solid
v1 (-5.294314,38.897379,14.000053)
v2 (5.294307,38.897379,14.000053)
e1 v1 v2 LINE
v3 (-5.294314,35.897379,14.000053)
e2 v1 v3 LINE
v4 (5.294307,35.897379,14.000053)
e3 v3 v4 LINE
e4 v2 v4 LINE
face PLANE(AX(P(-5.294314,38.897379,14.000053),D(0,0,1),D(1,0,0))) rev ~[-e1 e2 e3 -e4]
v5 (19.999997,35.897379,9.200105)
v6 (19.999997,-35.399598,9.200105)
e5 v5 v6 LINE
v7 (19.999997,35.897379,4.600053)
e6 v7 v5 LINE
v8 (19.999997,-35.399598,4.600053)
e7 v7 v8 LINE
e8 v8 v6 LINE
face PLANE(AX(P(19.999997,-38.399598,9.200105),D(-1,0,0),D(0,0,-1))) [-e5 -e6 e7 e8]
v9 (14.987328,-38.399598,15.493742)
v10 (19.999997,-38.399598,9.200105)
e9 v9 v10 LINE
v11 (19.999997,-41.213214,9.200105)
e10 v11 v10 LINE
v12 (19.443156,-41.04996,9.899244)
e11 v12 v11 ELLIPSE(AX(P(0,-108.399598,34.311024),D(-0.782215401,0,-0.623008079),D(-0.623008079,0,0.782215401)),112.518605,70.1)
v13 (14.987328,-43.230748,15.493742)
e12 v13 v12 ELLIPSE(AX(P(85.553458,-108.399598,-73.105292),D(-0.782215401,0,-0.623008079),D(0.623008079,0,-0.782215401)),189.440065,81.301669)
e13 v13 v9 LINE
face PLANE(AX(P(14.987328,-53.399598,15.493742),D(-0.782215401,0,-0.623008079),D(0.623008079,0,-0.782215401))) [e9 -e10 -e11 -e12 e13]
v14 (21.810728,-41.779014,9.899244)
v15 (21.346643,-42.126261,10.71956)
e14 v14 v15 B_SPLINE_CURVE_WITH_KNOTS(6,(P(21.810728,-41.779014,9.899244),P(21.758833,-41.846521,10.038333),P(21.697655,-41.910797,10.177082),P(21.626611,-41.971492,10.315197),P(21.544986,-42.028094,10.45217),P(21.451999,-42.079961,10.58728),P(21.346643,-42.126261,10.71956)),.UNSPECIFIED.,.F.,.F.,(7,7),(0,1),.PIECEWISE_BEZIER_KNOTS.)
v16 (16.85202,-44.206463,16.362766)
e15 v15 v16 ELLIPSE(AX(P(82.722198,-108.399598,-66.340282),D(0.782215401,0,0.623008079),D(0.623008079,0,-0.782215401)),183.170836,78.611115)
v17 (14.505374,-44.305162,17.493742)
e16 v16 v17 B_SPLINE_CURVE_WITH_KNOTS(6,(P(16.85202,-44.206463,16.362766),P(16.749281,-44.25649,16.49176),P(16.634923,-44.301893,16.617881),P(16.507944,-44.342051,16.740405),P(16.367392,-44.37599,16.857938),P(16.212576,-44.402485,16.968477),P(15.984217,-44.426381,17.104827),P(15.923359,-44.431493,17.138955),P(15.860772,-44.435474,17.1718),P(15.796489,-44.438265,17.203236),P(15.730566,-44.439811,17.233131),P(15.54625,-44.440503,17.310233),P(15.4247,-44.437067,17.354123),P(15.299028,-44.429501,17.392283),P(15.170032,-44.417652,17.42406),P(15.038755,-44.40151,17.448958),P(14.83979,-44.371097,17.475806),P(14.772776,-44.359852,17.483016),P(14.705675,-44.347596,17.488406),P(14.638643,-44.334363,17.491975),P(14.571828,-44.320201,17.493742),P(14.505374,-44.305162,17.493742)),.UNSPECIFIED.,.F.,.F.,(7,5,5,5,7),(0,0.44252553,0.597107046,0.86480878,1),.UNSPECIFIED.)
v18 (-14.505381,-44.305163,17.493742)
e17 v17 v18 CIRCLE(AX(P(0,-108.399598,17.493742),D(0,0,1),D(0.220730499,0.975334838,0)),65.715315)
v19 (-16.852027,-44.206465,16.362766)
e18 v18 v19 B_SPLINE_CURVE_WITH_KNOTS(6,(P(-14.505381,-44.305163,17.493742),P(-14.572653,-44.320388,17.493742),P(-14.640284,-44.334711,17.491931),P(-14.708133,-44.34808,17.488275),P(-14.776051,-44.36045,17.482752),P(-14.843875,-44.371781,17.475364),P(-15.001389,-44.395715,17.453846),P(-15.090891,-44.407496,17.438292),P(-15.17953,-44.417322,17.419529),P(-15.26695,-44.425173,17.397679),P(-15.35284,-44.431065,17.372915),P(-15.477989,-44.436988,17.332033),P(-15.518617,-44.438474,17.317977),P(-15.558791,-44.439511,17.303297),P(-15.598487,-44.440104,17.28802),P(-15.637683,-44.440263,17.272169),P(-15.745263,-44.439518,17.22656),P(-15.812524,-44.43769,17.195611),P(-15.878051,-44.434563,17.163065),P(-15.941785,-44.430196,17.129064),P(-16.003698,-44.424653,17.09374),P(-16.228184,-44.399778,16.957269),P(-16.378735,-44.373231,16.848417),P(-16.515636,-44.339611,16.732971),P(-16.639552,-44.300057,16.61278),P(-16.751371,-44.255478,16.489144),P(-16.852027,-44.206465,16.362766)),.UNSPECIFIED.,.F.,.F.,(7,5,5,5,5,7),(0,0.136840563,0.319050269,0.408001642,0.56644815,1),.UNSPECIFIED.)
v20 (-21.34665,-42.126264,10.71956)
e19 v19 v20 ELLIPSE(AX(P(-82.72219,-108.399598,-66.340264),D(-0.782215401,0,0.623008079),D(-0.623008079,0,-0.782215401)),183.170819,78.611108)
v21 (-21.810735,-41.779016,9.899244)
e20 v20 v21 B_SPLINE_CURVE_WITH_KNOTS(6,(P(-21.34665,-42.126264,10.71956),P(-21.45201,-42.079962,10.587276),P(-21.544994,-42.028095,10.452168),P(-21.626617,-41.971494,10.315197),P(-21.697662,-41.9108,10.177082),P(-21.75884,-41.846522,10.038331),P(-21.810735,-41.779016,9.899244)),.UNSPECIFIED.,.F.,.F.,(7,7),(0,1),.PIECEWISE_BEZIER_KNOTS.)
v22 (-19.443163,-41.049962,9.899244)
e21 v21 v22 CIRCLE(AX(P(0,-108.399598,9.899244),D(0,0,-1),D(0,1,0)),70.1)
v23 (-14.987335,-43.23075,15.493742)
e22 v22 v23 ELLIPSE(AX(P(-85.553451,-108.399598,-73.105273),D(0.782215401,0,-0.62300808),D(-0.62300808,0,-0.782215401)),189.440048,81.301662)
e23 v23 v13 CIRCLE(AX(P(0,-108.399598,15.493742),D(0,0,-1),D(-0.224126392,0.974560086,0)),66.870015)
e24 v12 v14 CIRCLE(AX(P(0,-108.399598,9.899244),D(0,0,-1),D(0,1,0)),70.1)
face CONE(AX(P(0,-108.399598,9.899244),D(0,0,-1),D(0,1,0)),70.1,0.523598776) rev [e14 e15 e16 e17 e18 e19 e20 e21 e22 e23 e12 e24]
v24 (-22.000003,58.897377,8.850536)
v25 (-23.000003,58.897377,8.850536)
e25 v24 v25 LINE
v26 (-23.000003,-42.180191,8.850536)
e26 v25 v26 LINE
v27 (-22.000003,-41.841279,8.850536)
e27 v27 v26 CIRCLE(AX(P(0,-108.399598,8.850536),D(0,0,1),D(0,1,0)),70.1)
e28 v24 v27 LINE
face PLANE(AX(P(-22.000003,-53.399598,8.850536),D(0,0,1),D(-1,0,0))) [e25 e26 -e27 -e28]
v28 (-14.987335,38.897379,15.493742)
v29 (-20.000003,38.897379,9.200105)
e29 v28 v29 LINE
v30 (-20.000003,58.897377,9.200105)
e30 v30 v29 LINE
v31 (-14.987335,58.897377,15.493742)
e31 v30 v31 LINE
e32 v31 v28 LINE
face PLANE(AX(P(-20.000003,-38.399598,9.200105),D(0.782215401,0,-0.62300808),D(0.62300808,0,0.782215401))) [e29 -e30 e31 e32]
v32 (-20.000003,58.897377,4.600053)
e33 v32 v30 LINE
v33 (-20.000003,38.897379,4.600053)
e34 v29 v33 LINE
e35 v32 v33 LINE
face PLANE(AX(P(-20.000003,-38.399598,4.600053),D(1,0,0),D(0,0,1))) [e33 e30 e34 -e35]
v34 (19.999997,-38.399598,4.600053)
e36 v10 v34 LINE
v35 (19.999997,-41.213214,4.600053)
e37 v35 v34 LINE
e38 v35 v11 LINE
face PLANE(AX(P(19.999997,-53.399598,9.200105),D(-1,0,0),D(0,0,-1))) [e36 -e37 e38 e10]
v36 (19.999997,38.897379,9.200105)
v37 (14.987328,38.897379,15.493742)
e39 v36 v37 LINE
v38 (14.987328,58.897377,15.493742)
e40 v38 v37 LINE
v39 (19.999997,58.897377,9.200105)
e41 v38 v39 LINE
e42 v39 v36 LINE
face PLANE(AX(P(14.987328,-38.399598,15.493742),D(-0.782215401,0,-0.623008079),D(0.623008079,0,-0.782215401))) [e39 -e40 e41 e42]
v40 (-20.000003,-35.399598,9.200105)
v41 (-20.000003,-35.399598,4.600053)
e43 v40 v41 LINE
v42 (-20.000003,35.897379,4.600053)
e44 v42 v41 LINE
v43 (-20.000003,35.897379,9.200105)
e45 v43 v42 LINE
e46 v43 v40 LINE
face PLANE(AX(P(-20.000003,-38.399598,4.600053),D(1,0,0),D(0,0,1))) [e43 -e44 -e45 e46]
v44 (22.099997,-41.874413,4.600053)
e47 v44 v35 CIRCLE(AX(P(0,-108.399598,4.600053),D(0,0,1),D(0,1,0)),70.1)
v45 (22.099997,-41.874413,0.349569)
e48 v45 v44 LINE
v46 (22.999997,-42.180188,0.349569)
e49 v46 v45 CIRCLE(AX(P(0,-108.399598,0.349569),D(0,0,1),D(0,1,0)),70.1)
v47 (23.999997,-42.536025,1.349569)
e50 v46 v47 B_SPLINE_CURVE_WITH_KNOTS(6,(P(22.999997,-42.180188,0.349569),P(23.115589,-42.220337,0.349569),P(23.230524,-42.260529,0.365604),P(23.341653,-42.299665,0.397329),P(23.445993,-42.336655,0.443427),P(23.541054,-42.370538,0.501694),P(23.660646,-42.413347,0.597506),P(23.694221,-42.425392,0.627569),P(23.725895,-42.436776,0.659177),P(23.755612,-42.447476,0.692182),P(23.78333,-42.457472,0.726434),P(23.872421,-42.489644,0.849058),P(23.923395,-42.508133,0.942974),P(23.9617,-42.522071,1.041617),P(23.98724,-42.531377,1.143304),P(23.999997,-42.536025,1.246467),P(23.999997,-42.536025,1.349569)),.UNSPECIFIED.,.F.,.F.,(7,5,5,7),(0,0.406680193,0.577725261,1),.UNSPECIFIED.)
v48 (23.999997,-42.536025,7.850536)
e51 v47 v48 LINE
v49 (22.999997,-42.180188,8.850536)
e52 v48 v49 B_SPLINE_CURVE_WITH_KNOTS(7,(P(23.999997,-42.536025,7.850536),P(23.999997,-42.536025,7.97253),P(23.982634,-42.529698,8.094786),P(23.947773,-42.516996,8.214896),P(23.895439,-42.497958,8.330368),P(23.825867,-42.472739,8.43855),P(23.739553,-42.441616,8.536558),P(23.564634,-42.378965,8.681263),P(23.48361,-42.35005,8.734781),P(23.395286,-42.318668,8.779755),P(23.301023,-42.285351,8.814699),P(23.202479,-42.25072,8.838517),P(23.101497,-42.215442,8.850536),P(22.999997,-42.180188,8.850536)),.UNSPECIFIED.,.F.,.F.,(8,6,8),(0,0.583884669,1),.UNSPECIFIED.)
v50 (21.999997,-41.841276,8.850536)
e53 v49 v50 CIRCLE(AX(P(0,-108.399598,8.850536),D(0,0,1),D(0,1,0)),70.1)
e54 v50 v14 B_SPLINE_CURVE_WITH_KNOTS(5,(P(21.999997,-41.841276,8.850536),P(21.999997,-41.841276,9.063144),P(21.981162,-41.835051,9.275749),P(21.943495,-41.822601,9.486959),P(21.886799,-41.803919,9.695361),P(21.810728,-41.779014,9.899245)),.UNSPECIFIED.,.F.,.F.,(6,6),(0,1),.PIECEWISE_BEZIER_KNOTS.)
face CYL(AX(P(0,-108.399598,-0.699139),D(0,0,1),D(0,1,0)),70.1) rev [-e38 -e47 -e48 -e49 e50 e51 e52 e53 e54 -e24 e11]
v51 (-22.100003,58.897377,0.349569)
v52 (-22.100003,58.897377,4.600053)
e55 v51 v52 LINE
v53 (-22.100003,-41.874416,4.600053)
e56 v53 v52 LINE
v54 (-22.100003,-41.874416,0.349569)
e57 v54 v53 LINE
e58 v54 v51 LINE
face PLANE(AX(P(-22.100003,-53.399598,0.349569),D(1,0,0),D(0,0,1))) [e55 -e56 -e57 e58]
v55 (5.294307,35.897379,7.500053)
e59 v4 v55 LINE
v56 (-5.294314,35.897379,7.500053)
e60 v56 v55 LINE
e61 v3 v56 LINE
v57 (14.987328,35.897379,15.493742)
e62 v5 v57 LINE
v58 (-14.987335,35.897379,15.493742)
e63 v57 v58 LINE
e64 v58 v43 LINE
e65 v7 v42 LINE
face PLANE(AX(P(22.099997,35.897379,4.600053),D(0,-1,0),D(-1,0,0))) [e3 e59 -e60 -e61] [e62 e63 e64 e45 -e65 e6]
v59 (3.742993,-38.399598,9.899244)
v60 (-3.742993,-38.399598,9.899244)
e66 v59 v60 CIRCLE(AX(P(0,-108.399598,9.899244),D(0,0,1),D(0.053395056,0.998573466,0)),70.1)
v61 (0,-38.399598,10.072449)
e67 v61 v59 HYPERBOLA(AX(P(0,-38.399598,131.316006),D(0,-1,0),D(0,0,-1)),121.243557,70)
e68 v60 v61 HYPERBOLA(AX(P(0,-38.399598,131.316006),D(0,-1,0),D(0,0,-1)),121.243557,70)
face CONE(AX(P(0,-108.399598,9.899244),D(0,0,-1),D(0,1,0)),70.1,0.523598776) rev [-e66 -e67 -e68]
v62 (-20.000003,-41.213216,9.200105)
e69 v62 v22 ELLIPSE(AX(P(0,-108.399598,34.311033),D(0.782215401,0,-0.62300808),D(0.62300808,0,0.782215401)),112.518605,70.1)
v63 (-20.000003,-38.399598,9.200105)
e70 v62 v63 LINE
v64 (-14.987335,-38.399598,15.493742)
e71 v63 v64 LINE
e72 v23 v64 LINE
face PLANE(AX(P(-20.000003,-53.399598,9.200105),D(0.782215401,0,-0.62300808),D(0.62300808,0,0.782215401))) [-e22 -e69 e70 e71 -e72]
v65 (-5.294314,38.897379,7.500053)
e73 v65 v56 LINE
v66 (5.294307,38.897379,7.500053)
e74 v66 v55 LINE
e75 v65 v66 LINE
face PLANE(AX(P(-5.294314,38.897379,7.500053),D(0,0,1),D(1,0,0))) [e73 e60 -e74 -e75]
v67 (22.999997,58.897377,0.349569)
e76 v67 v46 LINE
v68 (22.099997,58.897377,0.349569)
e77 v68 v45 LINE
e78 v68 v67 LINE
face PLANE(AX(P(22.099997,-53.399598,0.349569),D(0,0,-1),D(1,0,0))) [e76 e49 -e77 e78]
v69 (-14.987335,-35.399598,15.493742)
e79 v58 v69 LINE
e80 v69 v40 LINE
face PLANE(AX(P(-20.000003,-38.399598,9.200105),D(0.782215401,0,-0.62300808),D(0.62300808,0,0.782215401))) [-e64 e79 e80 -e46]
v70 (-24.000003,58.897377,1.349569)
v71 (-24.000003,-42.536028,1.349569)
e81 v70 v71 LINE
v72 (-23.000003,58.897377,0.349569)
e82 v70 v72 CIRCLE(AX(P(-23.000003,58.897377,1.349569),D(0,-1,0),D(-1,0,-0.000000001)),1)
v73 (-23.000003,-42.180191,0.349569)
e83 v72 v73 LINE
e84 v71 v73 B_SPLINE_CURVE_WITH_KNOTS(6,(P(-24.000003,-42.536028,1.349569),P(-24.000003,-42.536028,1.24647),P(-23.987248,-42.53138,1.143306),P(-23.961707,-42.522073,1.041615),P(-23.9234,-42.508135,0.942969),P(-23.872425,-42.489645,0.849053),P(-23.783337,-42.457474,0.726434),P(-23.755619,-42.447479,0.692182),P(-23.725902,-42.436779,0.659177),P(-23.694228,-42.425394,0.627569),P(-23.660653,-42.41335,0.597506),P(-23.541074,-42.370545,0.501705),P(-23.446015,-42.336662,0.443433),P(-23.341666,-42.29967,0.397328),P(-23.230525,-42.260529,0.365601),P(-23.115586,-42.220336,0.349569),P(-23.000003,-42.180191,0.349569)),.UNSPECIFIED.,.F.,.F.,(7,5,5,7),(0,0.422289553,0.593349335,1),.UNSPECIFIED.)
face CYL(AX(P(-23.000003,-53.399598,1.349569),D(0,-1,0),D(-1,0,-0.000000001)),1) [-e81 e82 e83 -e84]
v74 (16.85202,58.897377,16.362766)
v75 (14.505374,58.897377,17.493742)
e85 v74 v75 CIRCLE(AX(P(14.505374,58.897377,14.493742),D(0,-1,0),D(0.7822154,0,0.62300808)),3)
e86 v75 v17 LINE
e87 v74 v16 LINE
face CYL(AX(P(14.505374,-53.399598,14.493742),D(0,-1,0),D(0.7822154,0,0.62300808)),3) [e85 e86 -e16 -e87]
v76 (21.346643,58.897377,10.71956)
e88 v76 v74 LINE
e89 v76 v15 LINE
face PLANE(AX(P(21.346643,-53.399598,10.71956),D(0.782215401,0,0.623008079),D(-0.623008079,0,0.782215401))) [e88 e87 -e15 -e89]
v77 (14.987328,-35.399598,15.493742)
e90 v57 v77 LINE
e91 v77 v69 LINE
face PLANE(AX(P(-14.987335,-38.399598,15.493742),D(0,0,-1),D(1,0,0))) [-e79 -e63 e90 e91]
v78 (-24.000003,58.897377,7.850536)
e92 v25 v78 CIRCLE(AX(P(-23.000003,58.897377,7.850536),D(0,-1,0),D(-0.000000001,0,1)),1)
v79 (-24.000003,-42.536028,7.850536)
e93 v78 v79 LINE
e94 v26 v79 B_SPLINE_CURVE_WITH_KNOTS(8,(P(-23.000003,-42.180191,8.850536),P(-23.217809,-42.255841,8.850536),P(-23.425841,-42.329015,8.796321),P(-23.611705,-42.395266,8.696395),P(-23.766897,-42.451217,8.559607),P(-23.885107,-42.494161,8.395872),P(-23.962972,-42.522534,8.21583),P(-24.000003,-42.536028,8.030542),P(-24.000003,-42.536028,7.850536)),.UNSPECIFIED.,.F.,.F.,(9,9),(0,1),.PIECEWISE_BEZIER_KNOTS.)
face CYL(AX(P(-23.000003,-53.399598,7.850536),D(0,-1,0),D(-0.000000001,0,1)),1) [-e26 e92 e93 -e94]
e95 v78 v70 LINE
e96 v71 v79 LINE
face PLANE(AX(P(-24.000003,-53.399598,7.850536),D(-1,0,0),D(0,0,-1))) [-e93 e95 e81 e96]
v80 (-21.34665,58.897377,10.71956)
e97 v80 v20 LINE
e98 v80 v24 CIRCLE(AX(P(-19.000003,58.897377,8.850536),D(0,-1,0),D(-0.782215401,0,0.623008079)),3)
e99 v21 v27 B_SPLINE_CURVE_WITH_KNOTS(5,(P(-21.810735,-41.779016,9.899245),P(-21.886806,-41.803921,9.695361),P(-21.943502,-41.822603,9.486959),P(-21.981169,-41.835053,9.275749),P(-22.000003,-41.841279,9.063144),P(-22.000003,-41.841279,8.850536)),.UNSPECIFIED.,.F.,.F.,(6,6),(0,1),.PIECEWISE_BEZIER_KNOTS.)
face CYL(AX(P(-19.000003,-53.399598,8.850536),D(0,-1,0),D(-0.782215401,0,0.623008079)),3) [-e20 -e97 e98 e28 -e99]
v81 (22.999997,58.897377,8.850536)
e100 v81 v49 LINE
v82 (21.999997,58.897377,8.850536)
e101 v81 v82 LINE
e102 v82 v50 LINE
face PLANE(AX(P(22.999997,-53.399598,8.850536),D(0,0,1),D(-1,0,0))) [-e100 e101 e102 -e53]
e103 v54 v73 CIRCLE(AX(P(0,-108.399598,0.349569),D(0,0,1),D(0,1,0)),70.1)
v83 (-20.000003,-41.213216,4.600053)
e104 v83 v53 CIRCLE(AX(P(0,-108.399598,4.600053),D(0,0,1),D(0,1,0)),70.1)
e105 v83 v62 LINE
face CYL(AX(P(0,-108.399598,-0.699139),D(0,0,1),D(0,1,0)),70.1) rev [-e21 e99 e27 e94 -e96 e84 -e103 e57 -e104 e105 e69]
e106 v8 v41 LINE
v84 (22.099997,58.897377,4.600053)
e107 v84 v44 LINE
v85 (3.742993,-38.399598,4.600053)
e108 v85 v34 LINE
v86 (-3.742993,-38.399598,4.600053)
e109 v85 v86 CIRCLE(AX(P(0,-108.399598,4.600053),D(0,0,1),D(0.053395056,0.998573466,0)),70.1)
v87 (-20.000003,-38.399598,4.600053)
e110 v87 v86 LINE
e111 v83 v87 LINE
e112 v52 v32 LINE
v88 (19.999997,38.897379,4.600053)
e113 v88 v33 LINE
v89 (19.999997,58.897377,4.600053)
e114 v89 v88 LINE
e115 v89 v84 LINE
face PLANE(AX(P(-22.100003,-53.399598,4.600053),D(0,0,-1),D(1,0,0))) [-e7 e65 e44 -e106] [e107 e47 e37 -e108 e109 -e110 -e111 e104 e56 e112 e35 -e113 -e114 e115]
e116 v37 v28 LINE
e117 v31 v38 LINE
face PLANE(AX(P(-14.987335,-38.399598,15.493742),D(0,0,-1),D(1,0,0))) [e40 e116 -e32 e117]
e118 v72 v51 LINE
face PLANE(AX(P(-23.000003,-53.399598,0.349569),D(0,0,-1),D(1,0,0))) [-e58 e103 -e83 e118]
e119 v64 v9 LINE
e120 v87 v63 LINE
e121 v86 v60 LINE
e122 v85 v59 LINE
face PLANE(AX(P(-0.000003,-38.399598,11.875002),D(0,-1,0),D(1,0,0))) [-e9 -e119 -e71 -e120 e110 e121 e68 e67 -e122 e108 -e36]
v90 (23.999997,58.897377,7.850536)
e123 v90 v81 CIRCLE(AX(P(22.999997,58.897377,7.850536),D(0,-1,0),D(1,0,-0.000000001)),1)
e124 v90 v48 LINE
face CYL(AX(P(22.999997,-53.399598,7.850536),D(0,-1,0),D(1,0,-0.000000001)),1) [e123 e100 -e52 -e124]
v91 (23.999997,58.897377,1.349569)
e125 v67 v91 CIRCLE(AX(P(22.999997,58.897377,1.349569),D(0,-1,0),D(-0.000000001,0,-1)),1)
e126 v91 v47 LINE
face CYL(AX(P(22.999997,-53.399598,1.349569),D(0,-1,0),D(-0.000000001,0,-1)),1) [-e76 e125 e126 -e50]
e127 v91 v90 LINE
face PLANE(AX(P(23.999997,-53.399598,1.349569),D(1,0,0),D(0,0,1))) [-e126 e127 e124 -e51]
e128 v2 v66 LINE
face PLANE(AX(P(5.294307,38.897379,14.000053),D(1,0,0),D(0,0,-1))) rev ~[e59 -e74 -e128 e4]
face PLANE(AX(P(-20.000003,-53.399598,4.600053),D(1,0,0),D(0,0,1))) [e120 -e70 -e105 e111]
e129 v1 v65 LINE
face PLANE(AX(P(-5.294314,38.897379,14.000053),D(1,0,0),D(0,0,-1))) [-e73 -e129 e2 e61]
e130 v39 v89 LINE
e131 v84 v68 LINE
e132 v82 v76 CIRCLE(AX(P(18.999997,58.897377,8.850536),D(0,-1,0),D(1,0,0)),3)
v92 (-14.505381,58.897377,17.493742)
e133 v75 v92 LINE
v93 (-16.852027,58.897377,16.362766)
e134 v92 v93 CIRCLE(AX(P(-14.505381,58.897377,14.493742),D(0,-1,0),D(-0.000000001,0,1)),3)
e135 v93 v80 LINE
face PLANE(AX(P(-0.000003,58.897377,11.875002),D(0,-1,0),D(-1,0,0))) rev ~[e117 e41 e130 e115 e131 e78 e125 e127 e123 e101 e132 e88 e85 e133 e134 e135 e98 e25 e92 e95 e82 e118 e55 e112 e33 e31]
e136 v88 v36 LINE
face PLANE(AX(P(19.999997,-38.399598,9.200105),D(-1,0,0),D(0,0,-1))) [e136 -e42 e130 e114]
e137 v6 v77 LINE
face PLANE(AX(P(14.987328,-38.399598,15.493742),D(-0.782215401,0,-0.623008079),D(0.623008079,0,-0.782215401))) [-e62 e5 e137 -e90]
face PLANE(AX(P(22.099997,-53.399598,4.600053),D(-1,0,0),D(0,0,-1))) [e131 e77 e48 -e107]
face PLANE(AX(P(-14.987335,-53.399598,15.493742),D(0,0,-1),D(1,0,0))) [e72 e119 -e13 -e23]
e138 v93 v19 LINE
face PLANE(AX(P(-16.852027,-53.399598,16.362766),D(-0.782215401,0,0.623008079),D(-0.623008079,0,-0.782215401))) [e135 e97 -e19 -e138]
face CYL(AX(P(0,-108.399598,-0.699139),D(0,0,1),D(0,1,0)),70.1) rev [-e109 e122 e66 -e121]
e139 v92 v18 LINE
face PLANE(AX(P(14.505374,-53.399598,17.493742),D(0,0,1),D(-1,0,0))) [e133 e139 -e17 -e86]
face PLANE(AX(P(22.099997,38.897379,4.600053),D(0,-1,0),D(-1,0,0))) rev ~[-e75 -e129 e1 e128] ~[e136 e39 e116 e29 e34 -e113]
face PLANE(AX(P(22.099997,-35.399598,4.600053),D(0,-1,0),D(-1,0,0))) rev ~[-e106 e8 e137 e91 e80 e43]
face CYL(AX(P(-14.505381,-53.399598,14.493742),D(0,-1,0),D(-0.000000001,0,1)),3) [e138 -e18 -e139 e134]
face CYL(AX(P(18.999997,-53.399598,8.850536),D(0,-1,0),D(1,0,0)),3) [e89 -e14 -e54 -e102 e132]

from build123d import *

# Parameters (mm, degrees)
EXTRUDE_1_DEPTH     = 58.89737674
EXTRUDE_START       = 38.399597665
EXTRUDE_2_DEPTH     = 38.399597665
EXTRUDE_3_REACH     = 66.893
SKETCH_3_W          = 44.2
SKETCH_3_H          = 3
EXTRUDE_4_REACH     = 66.893
SKETCH_4_W          = 44.2
SKETCH_4_H          = 3
CUT_EXTRUDE_START   = -77.29697691
CUT_EXTRUDE_1_DEPTH = 77.29697691
SKETCH_6_W          = 10.588620777
SKETCH_6_H          = 6.5
CUT_EXTRUDE_2_DEPTH = 3
EXTRUDE_START_2     = 15
EXTRUDE_5_DEPTH     = 15


with BuildPart() as part:
    # 草图1 → 凸台-拉伸1 (new body)
    with BuildSketch(Plane(origin=(0, 0, 0), x_dir=(1, 0, 0), z_dir=(0, 1, 0))):
        with BuildLine():
            Line((21.346642729, -10.719560241), (16.852020459, -16.362765964))
            ThreePointArc((16.852020459, -16.362765964), (15.807857901, -17.196247295), (14.505374257, -17.493741725))
            Line((14.505374257, -17.493741725), (-14.505381202, -17.493741725))
            ThreePointArc((-14.505381202, -17.493741725), (-15.807864846, -17.196247295), (-16.852027404, -16.362765964))
            Line((-16.852027404, -16.362765964), (-21.346649674, -10.719560241))
            ThreePointArc((-21.346649674, -10.719560241), (-21.831958504, -9.840501001), (-22.000003473, -8.850536003))
            Line((-22.000003473, -8.850536003), (-23.000003473, -8.850536003))
            ThreePointArc((-23.000003473, -8.850536003), (-23.707110254, -8.557642784), (-24.000003473, -7.850536003))
            Line((-24.000003473, -7.850536003), (-24.000003473, -1.349569462))
            ThreePointArc((-24.000003473, -1.349569462), (-23.707110254, -0.642462681), (-23.000003473, -0.349569462))
            Line((-23.000003473, -0.349569462), (-22.100003473, -0.349569462))
            Line((-22.100003473, -0.349569462), (-22.100003473, -4.600052733))
            Line((-22.100003473, -4.600052733), (-22.000003473, -4.600052733))
            Line((-22.000003473, -4.600052733), (-20.000003473, -4.600052733))
            Line((-20.000003473, -4.600052733), (-20.000003473, -9.200105465))
            Line((-20.000003473, -9.200105465), (-14.987335304, -15.493741725))
            Line((-14.987335304, -15.493741725), (14.987328359, -15.493741725))
            Line((14.987328359, -15.493741725), (19.999996527, -9.200105465))
            Line((19.999996527, -9.200105465), (19.999996527, -4.600052733))
            Line((19.999996527, -4.600052733), (21.999996527, -4.600052733))
            Line((21.999996527, -4.600052733), (22.099996527, -4.600052733))
            Line((22.099996527, -4.600052733), (22.099996527, -0.349569462))
            Line((22.099996527, -0.349569462), (22.999996527, -0.349569462))
            ThreePointArc((22.999996527, -0.349569462), (23.707103309, -0.642462681), (23.999996527, -1.349569462))
            Line((23.999996527, -1.349569462), (23.999996527, -7.850536003))
            ThreePointArc((23.999996527, -7.850536003), (23.707103309, -8.557642784), (22.999996527, -8.850536003))
            Line((22.999996527, -8.850536003), (21.999996527, -8.850536003))
            ThreePointArc((21.999996527, -8.850536003), (21.831951559, -9.840501001), (21.346642729, -10.719560241))
        make_face()
    extrude(amount=EXTRUDE_1_DEPTH)

    # 草图2 → 凸台-拉伸2 (add)
    with BuildSketch(Plane.XZ.offset(EXTRUDE_START)):
        with BuildLine():
            Line((22.999996527, 8.850536003), (21.999996527, 8.850536003))
            ThreePointArc((21.999996527, 8.850536003), (21.831951559, 9.840501001), (21.346642729, 10.719560241))
            Line((21.346642729, 10.719560241), (16.852020459, 16.362765964))
            ThreePointArc((16.852020459, 16.362765964), (15.807857901, 17.196247295), (14.505374257, 17.493741725))
            Line((14.505374257, 17.493741725), (-14.505381202, 17.493741725))
            ThreePointArc((-14.505381202, 17.493741725), (-15.807864846, 17.196247295), (-16.852027404, 16.362765964))
            Line((-16.852027404, 16.362765964), (-21.346649674, 10.719560241))
            ThreePointArc((-21.346649674, 10.719560241), (-21.831958504, 9.840501001), (-22.000003473, 8.850536003))
            Line((-22.000003473, 8.850536003), (-23.000003473, 8.850536003))
            ThreePointArc((-23.000003473, 8.850536003), (-23.707110254, 8.557642784), (-24.000003473, 7.850536003))
            Line((-24.000003473, 7.850536003), (-24.000003473, 1.349569462))
            ThreePointArc((-24.000003473, 1.349569462), (-23.707110254, 0.642462681), (-23.000003473, 0.349569462))
            Line((-23.000003473, 0.349569462), (-22.100003473, 0.349569462))
            Line((-22.100003473, 0.349569462), (-22.100003473, 4.600052733))
            Line((-22.100003473, 4.600052733), (-20.000003473, 4.600052733))
            Line((-20.000003473, 4.600052733), (-20.000003473, 9.200105465))
            Line((-20.000003473, 9.200105465), (-14.987335304, 15.493741725))
            Line((-14.987335304, 15.493741725), (14.987328359, 15.493741725))
            Line((14.987328359, 15.493741725), (19.999996527, 9.200105465))
            Line((19.999996527, 9.200105465), (19.999996527, 4.600052733))
            Line((19.999996527, 4.600052733), (22.099996527, 4.600052733))
            Line((22.099996527, 4.600052733), (22.099996527, 0.349569462))
            Line((22.099996527, 0.349569462), (22.999996527, 0.349569462))
            ThreePointArc((22.999996527, 0.349569462), (23.707103309, 0.642462681), (23.999996527, 1.349569462))
            Line((23.999996527, 1.349569462), (23.999996527, 7.850536003))
            ThreePointArc((23.999996527, 7.850536003), (23.707103309, 8.557642784), (22.999996527, 8.850536003))
        make_face()
    extrude(amount=-EXTRUDE_2_DEPTH)

    # 凸台-拉伸3: up to this face of the body (flat: up to its plane)
    extrude_3_end = Plane(part.part.faces().sort_by_distance((-3.473e-06, 10.248889538, 17.493741725))[0])
    # 草图3 → 凸台-拉伸3 (add, up to the picked face)
    with BuildSketch(Plane(origin=(0, 0, 4.600052733), x_dir=(-1, 0, 0), z_dir=(0, 0, -1)), mode=Mode.PRIVATE) as extrude_3_sk1:
        with Locations((3.473e-06, -36.899597665)):
            Rectangle(SKETCH_3_W, SKETCH_3_H)
    extrude_3_tool1 = split(extrude(extrude_3_sk1.sketch, amount=-EXTRUDE_3_REACH, mode=Mode.PRIVATE), bisect_by=extrude_3_end, keep=Keep.BOTH, mode=Mode.PRIVATE)
    add(extrude_3_tool1.solids().sort_by(Axis((-3e-06, -36.899598, 4.600053), (0, 0, 1)))[0])

    # 凸台-拉伸4: up to this face of the body (flat: up to its plane)
    extrude_4_end = Plane(part.part.faces().sort_by_distance((-3.473e-06, 9.499837909, 17.493741725))[0])
    # 草图4 → 凸台-拉伸4 (add, up to the picked face)
    with BuildSketch(Plane(origin=(0, 0, 4.600052733), x_dir=(-1, 0, 0), z_dir=(0, 0, -1)), mode=Mode.PRIVATE) as extrude_4_sk1:
        with Locations((3.473e-06, 37.397379245)):
            Rectangle(SKETCH_4_W, SKETCH_4_H)
    extrude_4_tool1 = split(extrude(extrude_4_sk1.sketch, amount=-EXTRUDE_4_REACH, mode=Mode.PRIVATE), bisect_by=extrude_4_end, keep=Keep.BOTH, mode=Mode.PRIVATE)
    add(extrude_4_tool1.solids().sort_by(Axis((-3e-06, 37.397379, 4.600053), (0, 0, 1)))[0])

    # 草图5 → 切除-拉伸1 (cut)
    with BuildSketch(Plane(origin=(0, 38.897379245, 0), x_dir=(1, 0, 0), z_dir=(0, 1, 0)).offset(CUT_EXTRUDE_START)):
        with BuildLine():
            Line((-22.100003473, -8.850536003), (-22.100003473, -17.493741725))
            Line((-22.100003473, -17.493741725), (-14.505381202, -17.493741725))
            ThreePointArc((-14.505381202, -17.493741725), (-15.807864846, -17.196247295), (-16.852027404, -16.362765964))
            Line((-16.852027404, -16.362765964), (-21.346649674, -10.719560241))
            ThreePointArc((-21.346649674, -10.719560241), (-21.831958504, -9.840501001), (-22.000003473, -8.850536003))
            Line((-22.000003473, -8.850536003), (-22.100003473, -8.850536003))
        make_face()
        with BuildLine():
            Line((14.505374257, -17.493741725), (22.099996527, -17.493741725))
            Line((22.099996527, -17.493741725), (22.099996527, -8.850536003))
            Line((22.099996527, -8.850536003), (21.999996527, -8.850536003))
            ThreePointArc((21.999996527, -8.850536003), (21.831951559, -9.840501001), (21.346642729, -10.719560241))
            Line((21.346642729, -10.719560241), (16.852020459, -16.362765964))
            ThreePointArc((16.852020459, -16.362765964), (15.807857901, -17.196247295), (14.505374257, -17.493741725))
        make_face()
    extrude(amount=CUT_EXTRUDE_1_DEPTH, mode=Mode.SUBTRACT)

    # 草图6 → 切除-拉伸2 (cut)
    with BuildSketch(Plane(origin=(0, 38.897379245, 0), x_dir=(1, 0, 0), z_dir=(0, 1, 0))):
        with Locations((-3.3e-06, -10.750052671)):
            Rectangle(SKETCH_6_W, SKETCH_6_H)
    extrude(amount=-CUT_EXTRUDE_2_DEPTH, mode=Mode.SUBTRACT)

    # 草图7 → 凸台-拉伸5 (add)
    with BuildSketch(Plane(origin=(0, -38.399597665, 0), x_dir=(-1, 0, 0), z_dir=(0, -1, 0)).offset(EXTRUDE_START_2)):
        with BuildLine():
            Line((20.000003473, -4.600052733), (20.000003473, -9.200105465))
            Line((20.000003473, -9.200105465), (14.987335304, -15.493741725))
            Line((14.987335304, -15.493741725), (-14.987328359, -15.493741725))
            Line((-14.987328359, -15.493741725), (-19.999996527, -9.200105465))
            Line((-19.999996527, -9.200105465), (-19.999996527, -4.600052733))
            Line((-19.999996527, -4.600052733), (-21.999996527, -4.600052733))
            Line((-21.999996527, -4.600052733), (-22.099996527, -4.600052733))
            Line((-22.099996527, -4.600052733), (-22.099996527, -0.349569462))
            Line((-22.099996527, -0.349569462), (-22.999996527, -0.349569462))
            ThreePointArc((-22.999996527, -0.349569462), (-23.707103309, -0.642462681), (-23.999996527, -1.349569462))
            Line((-23.999996527, -1.349569462), (-23.999996527, -7.850536003))
            ThreePointArc((-23.999996527, -7.850536003), (-23.707103309, -8.557642784), (-22.999996527, -8.850536003))
            Line((-22.999996527, -8.850536003), (-21.999996527, -8.850536003))
            ThreePointArc((-21.999996527, -8.850536003), (-21.831951559, -9.840501001), (-21.346642729, -10.719560241))
            Line((-21.346642729, -10.719560241), (-16.852020459, -16.362765964))
            ThreePointArc((-16.852020459, -16.362765964), (-15.807857901, -17.196247295), (-14.505374257, -17.493741725))
            Line((-14.505374257, -17.493741725), (14.505381202, -17.493741725))
            ThreePointArc((14.505381202, -17.493741725), (15.807864846, -17.196247295), (16.852027404, -16.362765964))
            Line((16.852027404, -16.362765964), (21.346649674, -10.719560241))
            ThreePointArc((21.346649674, -10.719560241), (21.831958504, -9.840501001), (22.000003473, -8.850536003))
            Line((22.000003473, -8.850536003), (23.000003473, -8.850536003))
            ThreePointArc((23.000003473, -8.850536003), (23.707110254, -8.557642784), (24.000003473, -7.850536003))
            Line((24.000003473, -7.850536003), (24.000003473, -1.349569462))
            ThreePointArc((24.000003473, -1.349569462), (23.707110254, -0.642462681), (23.000003473, -0.349569462))
            Line((23.000003473, -0.349569462), (22.100003473, -0.349569462))
            Line((22.100003473, -0.349569462), (22.100003473, -4.600052733))
            Line((22.100003473, -4.600052733), (22.000003473, -4.600052733))
            Line((22.000003473, -4.600052733), (20.000003473, -4.600052733))
        make_face()
    extrude(amount=-EXTRUDE_5_DEPTH)

    # 草图8 → 切除-旋转1 (revolve, cut)
    with BuildSketch(Plane(origin=(0, 0, 0), x_dir=(0, 0, -1), z_dir=(1, 0, 0))):
        Polygon((-9.89924439, -38.299597665), (-20.291549236, -44.299597665), (-20.291549236, -55.801852499), (11.09144377, -55.801852499), (11.09144377, -44.299597665), (0.699138925, -38.299597665), align=None)
    revolve(axis=Axis((0, -108.399597665, 9.89924439), (0, 0, -1)), mode=Mode.SUBTRACT)


solid = part.part
